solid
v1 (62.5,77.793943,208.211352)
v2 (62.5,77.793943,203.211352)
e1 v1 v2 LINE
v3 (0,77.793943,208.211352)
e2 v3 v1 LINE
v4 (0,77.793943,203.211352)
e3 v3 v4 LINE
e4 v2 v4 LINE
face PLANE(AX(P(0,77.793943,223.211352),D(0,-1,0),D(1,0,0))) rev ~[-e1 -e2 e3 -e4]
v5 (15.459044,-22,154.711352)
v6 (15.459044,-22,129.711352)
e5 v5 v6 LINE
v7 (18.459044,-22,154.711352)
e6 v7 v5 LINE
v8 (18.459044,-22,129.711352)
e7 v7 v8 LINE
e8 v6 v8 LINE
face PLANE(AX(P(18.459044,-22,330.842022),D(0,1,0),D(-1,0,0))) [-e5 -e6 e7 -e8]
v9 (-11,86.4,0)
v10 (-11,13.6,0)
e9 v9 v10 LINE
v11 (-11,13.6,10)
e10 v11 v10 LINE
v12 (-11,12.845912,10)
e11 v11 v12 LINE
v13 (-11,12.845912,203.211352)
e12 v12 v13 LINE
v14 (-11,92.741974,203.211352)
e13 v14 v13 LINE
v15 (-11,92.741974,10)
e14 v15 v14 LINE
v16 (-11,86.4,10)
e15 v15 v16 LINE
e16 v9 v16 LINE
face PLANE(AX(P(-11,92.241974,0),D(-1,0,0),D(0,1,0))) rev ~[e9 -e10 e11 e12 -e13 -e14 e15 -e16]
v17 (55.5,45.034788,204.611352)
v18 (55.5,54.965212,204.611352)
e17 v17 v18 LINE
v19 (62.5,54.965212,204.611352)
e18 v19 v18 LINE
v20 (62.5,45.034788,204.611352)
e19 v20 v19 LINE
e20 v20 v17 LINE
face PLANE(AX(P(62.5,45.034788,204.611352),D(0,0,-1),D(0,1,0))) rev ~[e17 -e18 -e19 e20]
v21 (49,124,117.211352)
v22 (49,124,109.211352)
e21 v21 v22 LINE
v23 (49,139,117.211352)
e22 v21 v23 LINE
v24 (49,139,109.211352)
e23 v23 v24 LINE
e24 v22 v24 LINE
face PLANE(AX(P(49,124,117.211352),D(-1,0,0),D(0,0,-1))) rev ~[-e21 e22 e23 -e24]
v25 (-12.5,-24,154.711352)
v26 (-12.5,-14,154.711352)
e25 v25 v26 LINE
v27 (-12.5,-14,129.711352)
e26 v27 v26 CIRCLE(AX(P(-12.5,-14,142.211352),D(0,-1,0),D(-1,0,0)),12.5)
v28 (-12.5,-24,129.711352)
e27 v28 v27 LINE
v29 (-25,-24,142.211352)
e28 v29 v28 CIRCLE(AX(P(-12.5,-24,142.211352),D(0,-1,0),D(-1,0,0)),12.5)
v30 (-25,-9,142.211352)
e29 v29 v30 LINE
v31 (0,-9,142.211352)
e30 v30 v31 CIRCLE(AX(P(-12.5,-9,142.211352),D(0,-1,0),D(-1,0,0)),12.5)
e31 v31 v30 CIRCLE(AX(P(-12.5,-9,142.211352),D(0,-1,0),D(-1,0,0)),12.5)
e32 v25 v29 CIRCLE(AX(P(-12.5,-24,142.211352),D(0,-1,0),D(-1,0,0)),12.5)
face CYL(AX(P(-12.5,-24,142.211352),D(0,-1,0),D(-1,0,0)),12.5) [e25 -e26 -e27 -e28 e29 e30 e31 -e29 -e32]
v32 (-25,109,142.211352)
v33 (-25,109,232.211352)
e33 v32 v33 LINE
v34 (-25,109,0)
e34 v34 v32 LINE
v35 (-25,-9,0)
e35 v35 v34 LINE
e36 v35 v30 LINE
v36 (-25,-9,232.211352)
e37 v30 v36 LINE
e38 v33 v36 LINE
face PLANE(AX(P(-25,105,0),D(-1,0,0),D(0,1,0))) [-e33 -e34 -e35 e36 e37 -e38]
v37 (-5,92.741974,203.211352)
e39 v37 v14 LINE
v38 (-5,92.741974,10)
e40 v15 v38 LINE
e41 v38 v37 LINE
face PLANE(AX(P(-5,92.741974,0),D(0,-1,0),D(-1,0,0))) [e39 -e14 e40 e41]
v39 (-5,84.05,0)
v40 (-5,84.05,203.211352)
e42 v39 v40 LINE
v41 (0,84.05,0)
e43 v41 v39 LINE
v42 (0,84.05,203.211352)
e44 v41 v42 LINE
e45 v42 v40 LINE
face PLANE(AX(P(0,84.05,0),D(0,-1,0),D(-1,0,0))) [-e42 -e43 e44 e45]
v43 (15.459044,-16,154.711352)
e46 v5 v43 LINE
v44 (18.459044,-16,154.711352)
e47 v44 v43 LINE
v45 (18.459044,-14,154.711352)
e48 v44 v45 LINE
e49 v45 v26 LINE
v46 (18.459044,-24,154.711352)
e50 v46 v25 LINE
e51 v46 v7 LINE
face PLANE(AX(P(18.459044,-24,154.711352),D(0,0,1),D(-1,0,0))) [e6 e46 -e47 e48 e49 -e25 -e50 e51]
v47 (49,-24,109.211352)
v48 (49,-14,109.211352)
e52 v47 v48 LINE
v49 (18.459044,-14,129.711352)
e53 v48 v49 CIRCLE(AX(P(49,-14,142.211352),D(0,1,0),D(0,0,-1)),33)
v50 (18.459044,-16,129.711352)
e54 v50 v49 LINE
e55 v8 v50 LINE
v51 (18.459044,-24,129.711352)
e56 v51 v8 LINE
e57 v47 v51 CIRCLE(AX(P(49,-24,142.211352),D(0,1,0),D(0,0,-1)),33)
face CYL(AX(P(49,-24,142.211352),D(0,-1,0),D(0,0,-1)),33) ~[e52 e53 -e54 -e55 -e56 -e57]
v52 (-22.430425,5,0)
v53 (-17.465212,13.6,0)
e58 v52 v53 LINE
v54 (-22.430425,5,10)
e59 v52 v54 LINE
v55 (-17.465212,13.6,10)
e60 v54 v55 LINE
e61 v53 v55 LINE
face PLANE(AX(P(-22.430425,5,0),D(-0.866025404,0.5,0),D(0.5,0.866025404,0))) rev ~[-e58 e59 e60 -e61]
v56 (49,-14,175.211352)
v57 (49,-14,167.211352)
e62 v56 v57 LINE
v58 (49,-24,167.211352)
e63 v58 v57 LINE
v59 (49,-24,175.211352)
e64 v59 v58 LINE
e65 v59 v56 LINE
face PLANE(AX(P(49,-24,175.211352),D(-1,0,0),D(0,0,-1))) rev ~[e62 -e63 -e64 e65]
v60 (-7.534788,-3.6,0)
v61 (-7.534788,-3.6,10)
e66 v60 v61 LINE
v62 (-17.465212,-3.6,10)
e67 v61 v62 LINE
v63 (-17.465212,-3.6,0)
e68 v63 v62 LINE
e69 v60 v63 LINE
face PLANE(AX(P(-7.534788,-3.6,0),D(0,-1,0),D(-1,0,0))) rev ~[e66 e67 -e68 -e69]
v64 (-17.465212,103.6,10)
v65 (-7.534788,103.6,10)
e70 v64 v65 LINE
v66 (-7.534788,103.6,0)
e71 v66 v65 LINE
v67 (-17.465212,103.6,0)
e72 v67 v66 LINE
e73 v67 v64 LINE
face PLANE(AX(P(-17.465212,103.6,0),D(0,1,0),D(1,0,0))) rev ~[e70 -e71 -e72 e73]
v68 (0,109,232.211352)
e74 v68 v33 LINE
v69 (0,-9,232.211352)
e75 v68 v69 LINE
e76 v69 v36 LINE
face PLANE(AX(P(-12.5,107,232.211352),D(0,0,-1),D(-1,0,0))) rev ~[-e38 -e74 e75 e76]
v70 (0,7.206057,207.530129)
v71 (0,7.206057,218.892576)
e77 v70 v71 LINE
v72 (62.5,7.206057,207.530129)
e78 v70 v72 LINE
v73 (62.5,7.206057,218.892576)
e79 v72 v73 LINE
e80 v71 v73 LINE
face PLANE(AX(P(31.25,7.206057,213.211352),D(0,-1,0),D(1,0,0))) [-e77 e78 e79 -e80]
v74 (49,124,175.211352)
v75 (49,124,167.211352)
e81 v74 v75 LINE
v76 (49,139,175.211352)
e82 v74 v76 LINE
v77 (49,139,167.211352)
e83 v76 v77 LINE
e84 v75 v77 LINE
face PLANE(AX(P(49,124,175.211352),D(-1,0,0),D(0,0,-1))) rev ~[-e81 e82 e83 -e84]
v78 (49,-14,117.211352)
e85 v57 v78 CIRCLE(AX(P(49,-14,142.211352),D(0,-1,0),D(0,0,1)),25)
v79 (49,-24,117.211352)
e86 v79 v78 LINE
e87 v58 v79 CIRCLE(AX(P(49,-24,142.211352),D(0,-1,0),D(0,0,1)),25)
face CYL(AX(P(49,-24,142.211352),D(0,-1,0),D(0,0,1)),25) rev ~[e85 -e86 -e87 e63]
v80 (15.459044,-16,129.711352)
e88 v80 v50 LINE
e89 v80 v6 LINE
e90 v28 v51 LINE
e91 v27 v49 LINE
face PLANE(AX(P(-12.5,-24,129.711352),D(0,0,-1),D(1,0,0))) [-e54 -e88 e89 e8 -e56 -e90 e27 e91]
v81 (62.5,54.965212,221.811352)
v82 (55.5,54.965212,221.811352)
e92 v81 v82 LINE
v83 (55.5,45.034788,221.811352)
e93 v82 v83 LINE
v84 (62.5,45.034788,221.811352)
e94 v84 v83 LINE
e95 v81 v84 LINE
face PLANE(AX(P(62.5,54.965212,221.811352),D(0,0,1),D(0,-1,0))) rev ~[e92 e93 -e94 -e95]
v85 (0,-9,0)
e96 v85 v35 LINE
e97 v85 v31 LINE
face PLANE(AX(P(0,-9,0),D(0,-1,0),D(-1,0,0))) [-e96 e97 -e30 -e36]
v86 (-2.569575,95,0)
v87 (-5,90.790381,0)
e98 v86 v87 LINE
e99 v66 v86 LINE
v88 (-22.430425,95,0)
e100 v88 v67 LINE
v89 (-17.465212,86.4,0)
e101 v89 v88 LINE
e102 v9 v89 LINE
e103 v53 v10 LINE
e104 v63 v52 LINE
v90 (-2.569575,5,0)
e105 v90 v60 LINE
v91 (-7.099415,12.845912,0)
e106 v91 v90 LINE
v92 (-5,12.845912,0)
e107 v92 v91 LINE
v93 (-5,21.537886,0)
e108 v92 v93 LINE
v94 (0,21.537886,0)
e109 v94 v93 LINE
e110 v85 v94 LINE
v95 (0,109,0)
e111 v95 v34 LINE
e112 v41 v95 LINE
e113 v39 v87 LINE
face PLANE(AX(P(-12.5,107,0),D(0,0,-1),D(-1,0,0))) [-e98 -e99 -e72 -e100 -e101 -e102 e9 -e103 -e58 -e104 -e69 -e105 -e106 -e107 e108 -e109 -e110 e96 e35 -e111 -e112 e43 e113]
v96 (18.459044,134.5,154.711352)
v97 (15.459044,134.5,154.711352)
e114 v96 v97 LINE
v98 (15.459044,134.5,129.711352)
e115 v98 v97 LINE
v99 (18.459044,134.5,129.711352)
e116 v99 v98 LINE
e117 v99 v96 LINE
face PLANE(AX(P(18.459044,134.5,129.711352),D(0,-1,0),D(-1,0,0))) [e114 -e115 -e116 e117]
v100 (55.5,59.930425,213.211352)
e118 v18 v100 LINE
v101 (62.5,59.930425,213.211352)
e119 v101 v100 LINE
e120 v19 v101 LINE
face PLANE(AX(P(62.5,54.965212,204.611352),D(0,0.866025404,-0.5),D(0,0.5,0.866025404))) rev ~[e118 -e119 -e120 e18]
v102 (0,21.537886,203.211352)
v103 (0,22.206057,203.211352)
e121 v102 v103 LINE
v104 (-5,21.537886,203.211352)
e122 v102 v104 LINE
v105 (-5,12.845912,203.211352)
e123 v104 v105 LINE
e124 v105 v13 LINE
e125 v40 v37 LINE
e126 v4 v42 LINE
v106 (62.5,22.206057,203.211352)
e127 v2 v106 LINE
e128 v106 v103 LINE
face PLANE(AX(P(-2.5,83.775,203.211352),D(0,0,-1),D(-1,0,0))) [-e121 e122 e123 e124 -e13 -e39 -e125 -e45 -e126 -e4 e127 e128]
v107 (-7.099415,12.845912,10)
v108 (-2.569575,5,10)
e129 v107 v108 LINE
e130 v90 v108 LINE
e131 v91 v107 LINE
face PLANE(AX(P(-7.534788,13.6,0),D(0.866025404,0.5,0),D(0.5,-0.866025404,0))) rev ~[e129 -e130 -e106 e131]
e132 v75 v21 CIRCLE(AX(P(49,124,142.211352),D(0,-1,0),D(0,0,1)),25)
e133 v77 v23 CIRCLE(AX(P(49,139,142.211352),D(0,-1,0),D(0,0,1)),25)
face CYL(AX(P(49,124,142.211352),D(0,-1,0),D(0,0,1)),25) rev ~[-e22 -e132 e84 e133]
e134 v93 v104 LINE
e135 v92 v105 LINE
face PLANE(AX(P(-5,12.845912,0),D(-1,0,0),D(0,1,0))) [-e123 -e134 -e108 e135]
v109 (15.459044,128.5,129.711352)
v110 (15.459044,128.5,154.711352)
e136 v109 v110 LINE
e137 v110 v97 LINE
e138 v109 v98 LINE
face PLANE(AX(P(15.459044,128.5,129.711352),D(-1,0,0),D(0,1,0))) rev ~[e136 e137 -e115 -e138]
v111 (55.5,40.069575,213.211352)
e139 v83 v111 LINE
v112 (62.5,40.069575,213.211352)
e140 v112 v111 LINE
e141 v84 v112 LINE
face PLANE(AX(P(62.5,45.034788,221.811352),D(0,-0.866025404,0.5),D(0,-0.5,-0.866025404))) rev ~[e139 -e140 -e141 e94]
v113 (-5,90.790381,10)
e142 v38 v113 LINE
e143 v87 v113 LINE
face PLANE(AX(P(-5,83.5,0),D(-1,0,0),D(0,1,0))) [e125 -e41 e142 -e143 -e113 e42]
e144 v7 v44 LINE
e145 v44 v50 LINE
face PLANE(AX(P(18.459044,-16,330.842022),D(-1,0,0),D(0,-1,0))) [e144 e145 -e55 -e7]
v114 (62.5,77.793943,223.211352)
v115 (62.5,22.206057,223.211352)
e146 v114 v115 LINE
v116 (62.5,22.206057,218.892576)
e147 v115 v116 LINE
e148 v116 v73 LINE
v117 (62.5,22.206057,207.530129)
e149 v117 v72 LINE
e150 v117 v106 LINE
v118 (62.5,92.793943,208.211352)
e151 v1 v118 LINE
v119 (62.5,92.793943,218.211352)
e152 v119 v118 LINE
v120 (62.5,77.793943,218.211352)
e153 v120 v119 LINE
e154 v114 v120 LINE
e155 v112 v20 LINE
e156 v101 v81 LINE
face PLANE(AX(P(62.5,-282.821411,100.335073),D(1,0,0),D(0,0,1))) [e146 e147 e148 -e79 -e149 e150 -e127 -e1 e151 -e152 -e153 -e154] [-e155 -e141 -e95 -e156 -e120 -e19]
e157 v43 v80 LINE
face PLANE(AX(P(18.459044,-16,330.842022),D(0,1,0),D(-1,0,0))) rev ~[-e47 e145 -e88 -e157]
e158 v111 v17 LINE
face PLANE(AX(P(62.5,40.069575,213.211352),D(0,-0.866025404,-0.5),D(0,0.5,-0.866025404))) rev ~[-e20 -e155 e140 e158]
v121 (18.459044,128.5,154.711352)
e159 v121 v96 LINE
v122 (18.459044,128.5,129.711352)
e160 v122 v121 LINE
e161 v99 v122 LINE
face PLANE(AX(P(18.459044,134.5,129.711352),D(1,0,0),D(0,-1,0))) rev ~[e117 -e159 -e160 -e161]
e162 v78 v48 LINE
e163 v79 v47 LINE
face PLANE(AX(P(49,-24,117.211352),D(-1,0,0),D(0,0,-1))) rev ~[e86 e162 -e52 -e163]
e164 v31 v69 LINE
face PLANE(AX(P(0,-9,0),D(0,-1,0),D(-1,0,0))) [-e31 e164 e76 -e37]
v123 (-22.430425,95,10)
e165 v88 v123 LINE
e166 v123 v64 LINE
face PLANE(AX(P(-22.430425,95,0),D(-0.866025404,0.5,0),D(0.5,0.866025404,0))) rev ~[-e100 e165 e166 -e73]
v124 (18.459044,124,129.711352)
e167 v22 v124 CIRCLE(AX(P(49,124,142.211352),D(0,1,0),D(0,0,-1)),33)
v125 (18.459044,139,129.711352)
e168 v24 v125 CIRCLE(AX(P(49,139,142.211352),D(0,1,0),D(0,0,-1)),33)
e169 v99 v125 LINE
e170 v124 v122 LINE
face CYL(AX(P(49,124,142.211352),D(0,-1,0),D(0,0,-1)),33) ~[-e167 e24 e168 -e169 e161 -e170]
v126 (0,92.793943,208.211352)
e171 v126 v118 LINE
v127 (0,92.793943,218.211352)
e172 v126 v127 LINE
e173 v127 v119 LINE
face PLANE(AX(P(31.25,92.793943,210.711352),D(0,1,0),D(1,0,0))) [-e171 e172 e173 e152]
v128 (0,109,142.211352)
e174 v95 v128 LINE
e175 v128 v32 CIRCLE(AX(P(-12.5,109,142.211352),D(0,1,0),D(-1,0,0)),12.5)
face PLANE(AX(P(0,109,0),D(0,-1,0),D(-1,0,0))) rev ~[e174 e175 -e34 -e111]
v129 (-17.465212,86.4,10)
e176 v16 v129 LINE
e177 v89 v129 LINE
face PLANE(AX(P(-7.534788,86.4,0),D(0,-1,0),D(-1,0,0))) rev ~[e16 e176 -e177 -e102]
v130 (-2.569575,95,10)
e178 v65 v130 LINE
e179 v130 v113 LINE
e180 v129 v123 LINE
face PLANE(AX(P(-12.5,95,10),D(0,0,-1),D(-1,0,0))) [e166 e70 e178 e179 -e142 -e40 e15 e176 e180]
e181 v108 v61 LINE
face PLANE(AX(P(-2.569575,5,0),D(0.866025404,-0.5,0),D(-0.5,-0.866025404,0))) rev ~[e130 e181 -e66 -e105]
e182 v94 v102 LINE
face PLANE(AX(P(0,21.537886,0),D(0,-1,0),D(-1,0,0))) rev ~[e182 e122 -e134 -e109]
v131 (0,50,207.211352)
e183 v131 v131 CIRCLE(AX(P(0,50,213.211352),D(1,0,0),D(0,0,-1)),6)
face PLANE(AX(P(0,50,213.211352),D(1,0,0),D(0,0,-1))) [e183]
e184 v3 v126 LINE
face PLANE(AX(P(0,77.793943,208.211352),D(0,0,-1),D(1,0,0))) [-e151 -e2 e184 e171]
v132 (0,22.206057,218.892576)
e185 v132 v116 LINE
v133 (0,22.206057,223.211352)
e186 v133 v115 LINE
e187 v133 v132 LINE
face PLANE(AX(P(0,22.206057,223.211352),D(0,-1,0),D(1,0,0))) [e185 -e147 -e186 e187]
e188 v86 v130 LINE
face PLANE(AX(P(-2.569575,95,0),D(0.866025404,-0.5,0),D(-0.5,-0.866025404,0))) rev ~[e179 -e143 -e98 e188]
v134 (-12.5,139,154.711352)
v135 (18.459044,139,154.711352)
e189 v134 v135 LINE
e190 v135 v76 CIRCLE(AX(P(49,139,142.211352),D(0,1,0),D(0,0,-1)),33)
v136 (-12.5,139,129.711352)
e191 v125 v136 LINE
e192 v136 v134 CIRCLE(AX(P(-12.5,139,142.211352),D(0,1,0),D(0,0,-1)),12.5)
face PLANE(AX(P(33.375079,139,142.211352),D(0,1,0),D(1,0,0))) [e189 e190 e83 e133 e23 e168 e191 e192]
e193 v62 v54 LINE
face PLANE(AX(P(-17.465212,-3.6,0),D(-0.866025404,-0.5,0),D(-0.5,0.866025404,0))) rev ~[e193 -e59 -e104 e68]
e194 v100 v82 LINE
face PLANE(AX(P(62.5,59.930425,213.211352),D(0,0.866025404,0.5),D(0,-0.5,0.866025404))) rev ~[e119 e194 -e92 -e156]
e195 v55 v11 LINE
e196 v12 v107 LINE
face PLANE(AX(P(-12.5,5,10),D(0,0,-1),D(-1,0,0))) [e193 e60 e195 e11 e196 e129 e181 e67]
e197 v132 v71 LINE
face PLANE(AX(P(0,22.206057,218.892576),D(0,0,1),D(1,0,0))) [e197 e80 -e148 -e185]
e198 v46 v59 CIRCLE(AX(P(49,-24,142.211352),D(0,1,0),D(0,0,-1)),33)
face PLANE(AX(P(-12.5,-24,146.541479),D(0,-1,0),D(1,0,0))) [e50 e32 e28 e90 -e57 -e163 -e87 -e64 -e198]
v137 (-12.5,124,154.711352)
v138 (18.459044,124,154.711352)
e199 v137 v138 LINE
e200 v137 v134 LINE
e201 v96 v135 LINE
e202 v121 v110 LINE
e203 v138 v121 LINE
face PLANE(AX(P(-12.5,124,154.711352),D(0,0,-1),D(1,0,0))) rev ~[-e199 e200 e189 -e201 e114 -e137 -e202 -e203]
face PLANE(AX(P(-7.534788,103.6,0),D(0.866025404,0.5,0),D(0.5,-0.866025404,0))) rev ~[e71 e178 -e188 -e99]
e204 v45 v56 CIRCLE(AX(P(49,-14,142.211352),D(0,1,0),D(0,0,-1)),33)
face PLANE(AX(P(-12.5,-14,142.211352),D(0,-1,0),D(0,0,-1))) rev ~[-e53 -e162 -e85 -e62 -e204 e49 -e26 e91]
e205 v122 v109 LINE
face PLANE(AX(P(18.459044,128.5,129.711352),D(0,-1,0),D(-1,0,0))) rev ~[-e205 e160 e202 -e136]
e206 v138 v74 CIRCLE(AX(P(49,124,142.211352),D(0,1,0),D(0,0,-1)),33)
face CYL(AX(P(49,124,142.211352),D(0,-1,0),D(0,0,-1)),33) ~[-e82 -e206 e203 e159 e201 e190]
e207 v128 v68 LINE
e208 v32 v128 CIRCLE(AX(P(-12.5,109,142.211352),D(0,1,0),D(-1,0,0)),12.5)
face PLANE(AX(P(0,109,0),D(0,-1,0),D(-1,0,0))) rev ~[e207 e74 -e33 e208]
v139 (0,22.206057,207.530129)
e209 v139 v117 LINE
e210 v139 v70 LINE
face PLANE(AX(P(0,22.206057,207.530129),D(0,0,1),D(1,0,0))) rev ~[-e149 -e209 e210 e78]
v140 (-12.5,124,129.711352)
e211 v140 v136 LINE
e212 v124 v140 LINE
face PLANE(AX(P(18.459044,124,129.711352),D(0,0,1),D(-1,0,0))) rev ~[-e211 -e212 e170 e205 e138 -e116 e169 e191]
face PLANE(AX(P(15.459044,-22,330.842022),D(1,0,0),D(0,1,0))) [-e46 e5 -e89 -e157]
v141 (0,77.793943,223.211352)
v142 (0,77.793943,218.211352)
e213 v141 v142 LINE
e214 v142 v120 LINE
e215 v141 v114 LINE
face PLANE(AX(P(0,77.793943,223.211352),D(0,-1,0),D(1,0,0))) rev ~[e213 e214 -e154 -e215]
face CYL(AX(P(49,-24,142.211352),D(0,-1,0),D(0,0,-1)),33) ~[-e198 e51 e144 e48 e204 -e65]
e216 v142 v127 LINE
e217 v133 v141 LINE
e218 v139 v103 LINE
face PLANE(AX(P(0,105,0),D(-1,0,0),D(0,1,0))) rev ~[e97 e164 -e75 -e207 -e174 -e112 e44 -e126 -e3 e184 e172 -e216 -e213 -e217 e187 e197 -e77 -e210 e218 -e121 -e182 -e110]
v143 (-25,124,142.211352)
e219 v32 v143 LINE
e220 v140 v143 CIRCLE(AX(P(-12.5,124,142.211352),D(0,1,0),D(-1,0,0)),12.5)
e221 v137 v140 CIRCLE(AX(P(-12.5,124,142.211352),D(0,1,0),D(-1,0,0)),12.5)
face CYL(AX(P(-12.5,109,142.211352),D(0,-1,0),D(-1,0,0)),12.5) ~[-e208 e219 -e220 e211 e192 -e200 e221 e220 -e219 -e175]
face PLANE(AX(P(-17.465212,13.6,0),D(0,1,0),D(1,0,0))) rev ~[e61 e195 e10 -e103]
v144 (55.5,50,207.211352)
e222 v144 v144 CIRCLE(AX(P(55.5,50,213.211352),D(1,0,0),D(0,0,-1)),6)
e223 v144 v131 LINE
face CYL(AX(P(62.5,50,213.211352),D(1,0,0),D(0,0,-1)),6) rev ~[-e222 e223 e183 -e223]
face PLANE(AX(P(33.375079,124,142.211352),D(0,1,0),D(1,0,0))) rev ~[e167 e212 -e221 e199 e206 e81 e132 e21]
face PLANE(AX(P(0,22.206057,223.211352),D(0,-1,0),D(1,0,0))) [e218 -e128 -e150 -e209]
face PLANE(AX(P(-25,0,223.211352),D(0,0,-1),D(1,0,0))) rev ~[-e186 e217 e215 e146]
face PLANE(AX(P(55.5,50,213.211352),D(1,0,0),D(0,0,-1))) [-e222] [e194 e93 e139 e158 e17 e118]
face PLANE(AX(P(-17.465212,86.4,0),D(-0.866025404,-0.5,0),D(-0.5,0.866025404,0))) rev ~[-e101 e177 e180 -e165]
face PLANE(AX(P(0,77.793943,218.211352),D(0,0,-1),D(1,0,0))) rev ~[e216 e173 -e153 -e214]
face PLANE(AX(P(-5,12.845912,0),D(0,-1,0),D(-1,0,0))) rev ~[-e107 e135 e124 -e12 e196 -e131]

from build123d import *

# Parameters (mm, degrees)
BOSS_EXTRUDE1_DEPTH      = 320
SKETCH2_W                = 25
SKETCH2_H                = 100
BOSS_EXTRUDE2_DEPTH      = 50
CUT_EXTRUDE1_DEPTH       = 337.19190948
CUT_EXTRUDE1_DEPTH_BACK  = 337.19190948
SKETCH3_R                = 5
SKETCH4_W                = 150
SKETCH4_H                = 19.211352241
BOSS_EXTRUDE3_DEPTH      = 100
BOSS_EXTRUDE4_DEPTH      = 100
SKETCH6_W                = 42.1
SKETCH6_H                = 42.1
CUT_EXTRUDE2_DEPTH       = 10
SKETCH7_R                = 11
CUT_EXTRUDE3_DEPTH       = 2
CUT_EXTRUDE4_DEPTH       = 391.24267
CUT_EXTRUDE4_DEPTH_BACK  = 391.24267
SKETCH8_R                = 11
SKETCH10_R               = 25
SKETCH10_R_2             = 11
BOSS_EXTRUDE5_DEPTH      = 18
CUT_EXTRUDE6_DEPTH       = 381.347658714
CUT_EXTRUDE6_DEPTH_BACK  = 381.347658714
BOSS_EXTRUDE6_REACH      = 243.332
SKETCH12_W               = 150
SKETCH12_H               = 15
SKETCH13_W               = 165
SKETCH13_H               = 5
BOSS_EXTRUDE7_DEPTH      = 100
CUT_EXTRUDE7_DEPTH       = 282.821411126
CUT_EXTRUDE7_DEPTH_BACK  = 282.821411126
SKETCH16_W               = 62.5
SKETCH16_H               = 22.206056974
CUT_EXTRUDE9_DEPTH       = 298.574684732
SKETCH17_W               = 62.5
SKETCH17_H               = 5
BOSS_EXTRUDE8_DEPTH      = 15
SKETCH18_W               = 62.5
SKETCH18_H               = 11.362446971
BOSS_EXTRUDE9_DEPTH      = 15
SKETCH19_W               = 25
SKETCH19_H               = 100
BOSS_EXTRUDE11_DEPTH     = 9
SKETCH20_R               = 5
CUT_EXTRUDE10_DEPTH      = 62.5
SKETCH21_R               = 6
CUT_EXTRUDE11_DEPTH      = 62.5
CUT_EXTRUDE12_DEPTH      = 7
CUT_EXTRUDE13_DEPTH      = 261.438787644
CUT_EXTRUDE13_DEPTH_BACK = 261.438787644
SKETCH23_W               = 50
SKETCH23_H               = 100
SKETCH24_W               = 0.5
SKETCH24_H               = 6.741974104
CUT_EXTRUDE16_DEPTH      = 203.211352241
SKETCH26_W               = 0.5
SKETCH26_H               = 6.741974105
CUT_EXTRUDE17_DEPTH      = 203.211352241
SKETCH27_W               = 5
SKETCH27_H               = 0.5
SKETCH27_W_2             = 6
CUT_EXTRUDE18_DEPTH      = 203.211352241
SKETCH29_W               = 25
SKETCH29_H               = 5
BOSS_EXTRUDE13_DEPTH     = 232.211352241
SKETCH31_W               = 5
SKETCH31_H               = 2.5
BOSS_EXTRUDE14_DEPTH     = 203.211352241
SKETCH32_W               = 5
SKETCH32_H               = 0.55
CUT_EXTRUDE20_DEPTH      = 203.211352241
CUT_EXTRUDE21_DEPTH      = 10
SKETCH33_W               = 25
SKETCH33_H               = 4
BOSS_EXTRUDE15_DEPTH     = 232.211352241
SKETCH35_R               = 12.5
BOSS_EXTRUDE16_DEPTH     = 15
SKETCH36_R               = 12.5
BOSS_EXTRUDE17_DEPTH     = 15
SKETCH37_W               = 3
SKETCH37_H               = 3
CUT_EXTRUDE22_DEPTH      = 201.130669564
BOSS_EXTRUDE19_START     = 15
BOSS_EXTRUDE19_DEPTH     = 15
SKETCH39_R               = 12.5
BOSS_EXTRUDE20_DEPTH     = 10
CUT_EXTRUDE23_DEPTH      = 201.130669564
CUT_EXTRUDE23_DEPTH_BACK = 201.130669564
SKETCH40_W               = 3
SKETCH40_H               = 3


with BuildPart() as part:
    # Sketch1 → Boss-Extrude1 (new body)
    with BuildSketch(Plane.XY):
        Polygon((0, 100), (0, 85.5), (-5.5, 85.5), (-5.5, 92.241974104), (-11, 92.241974104), (-11, 13.345911947), (-5.5, 13.345911947), (-5.5, 20.087886052), (0, 20.087886052), (0, 5.587886052), (0, 0), (-25, 0), (-25, 100), align=None)
    extrude(amount=BOSS_EXTRUDE1_DEPTH)

    # Sketch2 → Boss-Extrude2 (add)
    with BuildSketch(Plane(origin=(0, 0, 0), x_dir=(-1, 0, 0), z_dir=(0, 0, -1))):
        with Locations((12.5, 50)):
            Rectangle(SKETCH2_W, SKETCH2_H)
    extrude(amount=BOSS_EXTRUDE2_DEPTH)

    # Sketch3 → Cut-Extrude1 (cut, two sides: drawn at the far end of the back side and taken through both)
    with BuildSketch(Plane(origin=(0, 0, 0), x_dir=(0, 0, -1), z_dir=(1, 0, 0)).offset(-CUT_EXTRUDE1_DEPTH_BACK)):
        with Locations(Location((25, 52.793943026, 0), (0, 0, 90))):
            Circle(SKETCH3_R)
    extrude(amount=CUT_EXTRUDE1_DEPTH + CUT_EXTRUDE1_DEPTH_BACK, mode=Mode.SUBTRACT)

    # Sketch4 → Boss-Extrude3 (add)
    with BuildSketch(Plane(origin=(0, 100, 0), x_dir=(1, 0, 0), z_dir=(0, 1, 0))):
        with Locations((50, -329.60567612)):
            Rectangle(SKETCH4_W, SKETCH4_H)
    extrude(amount=-BOSS_EXTRUDE3_DEPTH)

    # Sketch5 → Boss-Extrude4 (add)
    with BuildSketch(Plane(origin=(0, 0, 0), x_dir=(1, 0, 0), z_dir=(0, 1, 0))):
        Polygon((125, -209.211352241), (125, -339.211352241), (127.245354701, -339.211352241), (140, -339.211352241), (140, -209.211352241), align=None)
    extrude(amount=BOSS_EXTRUDE4_DEPTH)

    # Sketch6 → Cut-Extrude2 (cut)
    with BuildSketch(Plane.ZY.offset(25)):
        with Locations((-25, 52.793943026)):
            Rectangle(SKETCH6_W, SKETCH6_H)
    extrude(amount=-CUT_EXTRUDE2_DEPTH, mode=Mode.SUBTRACT)

    # Sketch7 → Cut-Extrude3 (cut)
    with BuildSketch(Plane.ZY.offset(15)):
        with Locations(Location((-25, 52.793943026, 0), (0, 0, 270))):
            Circle(SKETCH7_R)
    extrude(amount=-CUT_EXTRUDE3_DEPTH, mode=Mode.SUBTRACT)

    # Sketch8 → Cut-Extrude4 (cut, two sides: drawn at the far end of the back side and taken through both)
    with BuildSketch(Plane.ZY.offset(25).offset(-CUT_EXTRUDE4_DEPTH_BACK)):
        with Locations(Location((-25, 52.793943026, 0), (0, 0, 270))):
            Circle(SKETCH8_R)
    extrude(amount=CUT_EXTRUDE4_DEPTH + CUT_EXTRUDE4_DEPTH_BACK, mode=Mode.SUBTRACT)

    # Sketch10 → Boss-Extrude5 (add)
    with BuildSketch(Plane(origin=(0, 0, 0), x_dir=(0, 0, -1), z_dir=(1, 0, 0))):
        with Locations((25, 52.793943026)):
            Circle(SKETCH10_R)
        with Locations(Location((25, 52.793943026, 0), (0, 0, 270))):
            Circle(SKETCH10_R_2, mode=Mode.SUBTRACT)
    extrude(amount=BOSS_EXTRUDE5_DEPTH)

    # Sketch11 → Cut-Extrude6 (cut, two sides: drawn at the far end of the back side and taken through both)
    with BuildSketch(Plane(origin=(0, 0, 0), x_dir=(1, 0, 0), z_dir=(0, 1, 0)).offset(-CUT_EXTRUDE6_DEPTH_BACK)):
        Polygon((-25, -339.211352241), (-25, -218.211352241), (83.728432641, -218.211352241), (83.728432641, -190.050980202), (162.673418017, -190.050980202), (162.673418017, -339.211352241), align=None)
    extrude(amount=CUT_EXTRUDE6_DEPTH + CUT_EXTRUDE6_DEPTH_BACK, mode=Mode.SUBTRACT)

    # Boss-Extrude6: up to this face of the body (flat: up to its plane)
    boss_extrude6_end = Plane(part.part.faces().sort_by_distance((-12.5, 100, 84.10567612))[0])
    # Sketch12 → Boss-Extrude6 (add, up to the picked face)
    with BuildSketch(Plane(origin=(0, 0, 0), x_dir=(1, 0, 0), z_dir=(0, 1, 0)), mode=Mode.PRIVATE) as boss_extrude6_sk1:
        with Locations((50, -210.711352241)):
            Rectangle(SKETCH12_W, SKETCH12_H)
    boss_extrude6_tool1 = split(extrude(boss_extrude6_sk1.sketch, amount=BOSS_EXTRUDE6_REACH, mode=Mode.PRIVATE), bisect_by=boss_extrude6_end, keep=Keep.BOTH, mode=Mode.PRIVATE)
    # Sketch12 → Boss-Extrude6 (add, up to the picked face)
    with BuildSketch(Plane(origin=(0, 0, 0), x_dir=(1, 0, 0), z_dir=(0, 1, 0)), mode=Mode.PRIVATE) as boss_extrude6_sk2:
        Polygon((140, -118.211352241), (125, -118.211352241), (125, -203.211352241), (125, -218.211352241), (140, -218.211352241), align=None)
    boss_extrude6_tool2 = split(extrude(boss_extrude6_sk2.sketch, amount=BOSS_EXTRUDE6_REACH, mode=Mode.PRIVATE), bisect_by=boss_extrude6_end, keep=Keep.BOTH, mode=Mode.PRIVATE)
    add(boss_extrude6_tool1.solids().sort_by(Axis((50, 0, 210.711352), (0, 1, 0)))[0])
    add(boss_extrude6_tool2.solids().sort_by(Axis((132.5, 0, 168.211352), (0, 1, 0)))[0])

    # Sketch13 → Boss-Extrude7 (add)
    with BuildSketch(Plane(origin=(0, 0, 0), x_dir=(1, 0, 0), z_dir=(0, 1, 0))):
        with Locations((57.5, -220.711352241)):
            Rectangle(SKETCH13_W, SKETCH13_H)
    extrude(amount=BOSS_EXTRUDE7_DEPTH)

    # Sketch14 → Cut-Extrude7 (cut, two sides: drawn at the far end of the back side and taken through both)
    with BuildSketch(Plane(origin=(0, 0, 0), x_dir=(1, 0, 0), z_dir=(0, 1, 0)).offset(-CUT_EXTRUDE7_DEPTH_BACK)):
        Polygon((62.5, -203.211352241), (62.5, -244.24795379), (164.214361429, -244.24795379), (164.214361429, -100.335073146), (62.5, -100.335073146), align=None)
    extrude(amount=CUT_EXTRUDE7_DEPTH + CUT_EXTRUDE7_DEPTH_BACK, mode=Mode.SUBTRACT)

    # Sketch16 → Cut-Extrude9 (cut, through all)
    with BuildSketch(Plane.XY.offset(223.211352241)):
        with Locations((31.25, 88.896971513)):
            Rectangle(SKETCH16_W, SKETCH16_H)
        with Locations((31.25, 11.103028487)):
            Rectangle(SKETCH16_W, SKETCH16_H)
    extrude(amount=-CUT_EXTRUDE9_DEPTH, mode=Mode.SUBTRACT)

    # Sketch17 → Boss-Extrude8 (add)
    with BuildSketch(Plane(origin=(0, 77.793943026, 0), x_dir=(1, 0, 0), z_dir=(0, 1, 0))):
        with Locations((31.25, -210.711352241)):
            Rectangle(SKETCH17_W, SKETCH17_H)
        with Locations((31.25, -215.711352241)):
            Rectangle(SKETCH17_W, SKETCH17_H)
    extrude(amount=BOSS_EXTRUDE8_DEPTH)

    # Sketch18 → Boss-Extrude9 (add)
    with BuildSketch(Plane.XZ.offset(-22.206056974)):
        with Locations((31.25, 213.211352241)):
            Rectangle(SKETCH18_W, SKETCH18_H)
    extrude(amount=BOSS_EXTRUDE9_DEPTH)

    # Sketch19 → Boss-Extrude11 (add)
    with BuildSketch(Plane.XY.offset(223.211352241)):
        with Locations((-12.5, 50)):
            Rectangle(SKETCH19_W, SKETCH19_H)
    extrude(amount=BOSS_EXTRUDE11_DEPTH)

    # Sketch20 → Cut-Extrude10 (cut)
    with BuildSketch(Plane(origin=(62.5, 0, 0), x_dir=(0, 0, -1), z_dir=(1, 0, 0))):
        with Locations((-213.211352241, 50)):
            Circle(SKETCH20_R)
    extrude(amount=-CUT_EXTRUDE10_DEPTH, mode=Mode.SUBTRACT)

    # Sketch21 → Cut-Extrude11 (cut)
    with BuildSketch(Plane(origin=(62.5, 0, 0), x_dir=(0, 0, -1), z_dir=(1, 0, 0))):
        with Locations((-213.211352241, 50)):
            Circle(SKETCH21_R)
    extrude(amount=-CUT_EXTRUDE11_DEPTH, mode=Mode.SUBTRACT)

    # Sketch22 → Cut-Extrude12 (cut)
    with BuildSketch(Plane(origin=(62.5, 0, 0), x_dir=(0, 0, -1), z_dir=(1, 0, 0))):
        Polygon((-204.611352241, 45.034787685), (-204.611352241, 54.965212315), (-213.211352241, 59.93042463), (-221.811352241, 54.965212315), (-221.811352241, 45.034787685), (-213.211352241, 40.06957537), align=None)
    extrude(amount=-CUT_EXTRUDE12_DEPTH, mode=Mode.SUBTRACT)

    # Sketch23 → Cut-Extrude13 (cut, two sides: drawn at the far end of the back side and taken through both)
    with BuildSketch(Plane(origin=(0, 0, 0), x_dir=(0, 0, -1), z_dir=(1, 0, 0)).offset(-CUT_EXTRUDE13_DEPTH_BACK)):
        with Locations((25, 50)):
            Rectangle(SKETCH23_W, SKETCH23_H)
    extrude(amount=CUT_EXTRUDE13_DEPTH + CUT_EXTRUDE13_DEPTH_BACK, mode=Mode.SUBTRACT)

    # Sketch24 → Cut-Extrude16 (cut)
    with BuildSketch(Plane(origin=(0, 0, 0), x_dir=(-1, 0, 0), z_dir=(0, 0, -1))):
        with Locations((5.25, 88.870987052)):
            Rectangle(SKETCH24_W, SKETCH24_H)
    extrude(amount=-CUT_EXTRUDE16_DEPTH, mode=Mode.SUBTRACT)

    # Sketch26 → Cut-Extrude17 (cut)
    with BuildSketch(Plane(origin=(0, 0, 0), x_dir=(-1, 0, 0), z_dir=(0, 0, -1))):
        with Locations((5.25, 16.716899)):
            Rectangle(SKETCH26_W, SKETCH26_H)
    extrude(amount=-CUT_EXTRUDE17_DEPTH, mode=Mode.SUBTRACT)

    # Sketch27 → Cut-Extrude18 (cut)
    with BuildSketch(Plane(origin=(0, 0, 0), x_dir=(-1, 0, 0), z_dir=(0, 0, -1))):
        with Locations((2.5, 85.75)):
            Rectangle(SKETCH27_W, SKETCH27_H)
        with Locations((8, 92.491974104)):
            Rectangle(SKETCH27_W_2, SKETCH27_H)
        with Locations((8, 13.095911947)):
            Rectangle(SKETCH27_W_2, SKETCH27_H)
        with Locations((2.5, 19.837886052)):
            Rectangle(SKETCH27_W, SKETCH27_H)
    extrude(amount=-CUT_EXTRUDE18_DEPTH, mode=Mode.SUBTRACT)

    # Sketch29 → Boss-Extrude13 (add)
    with BuildSketch(Plane(origin=(0, 0, 0), x_dir=(-1, 0, 0), z_dir=(0, 0, -1))):
        with Locations((12.5, 102.5)):
            Rectangle(SKETCH29_W, SKETCH29_H)
        with Locations((12.5, -2.5)):
            Rectangle(SKETCH29_W, SKETCH29_H)
    extrude(amount=-BOSS_EXTRUDE13_DEPTH)

    # Sketch31 → Boss-Extrude14 (add)
    with BuildSketch(Plane(origin=(0, 0, 0), x_dir=(-1, 0, 0), z_dir=(0, 0, -1))):
        with Locations((2.5, 84.75)):
            Rectangle(SKETCH31_W, SKETCH31_H)
        with Locations((2.5, 20.837886052)):
            Rectangle(SKETCH31_W, SKETCH31_H)
    extrude(amount=-BOSS_EXTRUDE14_DEPTH)

    # Sketch32 → Cut-Extrude20 (cut)
    with BuildSketch(Plane(origin=(0, 0, 0), x_dir=(-1, 0, 0), z_dir=(0, 0, -1))):
        with Locations((2.5, 21.812886052)):
            Rectangle(SKETCH32_W, SKETCH32_H)
        with Locations((2.5, 83.775)):
            Rectangle(SKETCH32_W, SKETCH32_H)
    extrude(amount=-CUT_EXTRUDE20_DEPTH, mode=Mode.SUBTRACT)

    # Sketch30 → Cut-Extrude21 (cut)
    with BuildSketch(Plane(origin=(0, 0, 0), x_dir=(-1, 0, 0), z_dir=(0, 0, -1))):
        Polygon((17.465212315, 103.6), (7.534787685, 103.6), (2.56957537, 95), (7.534787685, 86.4), (17.465212315, 86.4), (22.43042463, 95), align=None)
        Polygon((17.465212315, 13.6), (7.534787685, 13.6), (2.56957537, 5), (7.534787685, -3.6), (17.465212315, -3.6), (22.43042463, 5), align=None)
    extrude(amount=-CUT_EXTRUDE21_DEPTH, mode=Mode.SUBTRACT)

    # Sketch33 → Boss-Extrude15 (add)
    with BuildSketch(Plane(origin=(0, 0, 0), x_dir=(-1, 0, 0), z_dir=(0, 0, -1))):
        with Locations((12.5, 107)):
            Rectangle(SKETCH33_W, SKETCH33_H)
        with Locations((12.5, -7)):
            Rectangle(SKETCH33_W, SKETCH33_H)
    extrude(amount=-BOSS_EXTRUDE15_DEPTH)

    # Sketch35 → Boss-Extrude16 (add)
    with BuildSketch(Plane(origin=(0, 109, 0), x_dir=(1, 0, 0), z_dir=(0, 1, 0))):
        with Locations(Location((-12.5, -142.211352241, 0), (0, 0, 180))):
            Circle(SKETCH35_R)
    extrude(amount=BOSS_EXTRUDE16_DEPTH)

    # Sketch36 → Boss-Extrude17 (add)
    with BuildSketch(Plane(origin=(0, 124, 0), x_dir=(1, 0, 0), z_dir=(0, 1, 0))):
        with BuildLine():
            Line((49, -117.211352241), (49, -109.211352241))
            ThreePointArc((49, -109.211352241), (16, -142.211352241), (49, -175.211352241))
            Line((49, -175.211352241), (49, -167.211352241))
            ThreePointArc((49, -167.211352241), (24, -142.211352241), (49, -117.211352241))
        make_face()
        with BuildLine():
            ThreePointArc((18.459043892, -154.711352241), (16, -142.211352241), (18.459043892, -129.711352241))
            Line((18.459043892, -129.711352241), (-12.5, -129.711352241))
            ThreePointArc((-12.5, -129.711352241), (-3.661165235, -133.372517476), (0, -142.211352241))
            ThreePointArc((0, -142.211352241), (-3.661165235, -151.050187006), (-12.5, -154.711352241))
            Line((-12.5, -154.711352241), (18.459043892, -154.711352241))
        make_face()
        with Locations(Location((-12.5, -142.211352241, 0), (0, 0, 90))):
            Circle(SKETCH36_R)
    extrude(amount=BOSS_EXTRUDE17_DEPTH)

    # Sketch37 → Cut-Extrude22 (cut, through all)
    with BuildSketch(Plane(origin=(0, 0, 129.711352241), x_dir=(-1, 0, 0), z_dir=(0, 0, -1))):
        with Locations((-16.959043892, 133)):
            Rectangle(SKETCH37_W, SKETCH37_H)
        with Locations((-16.959043892, 130)):
            Rectangle(SKETCH37_W, SKETCH37_H)
    extrude(amount=-CUT_EXTRUDE22_DEPTH, mode=Mode.SUBTRACT)

    # Sketch38 → Boss-Extrude19 (add)
    with BuildSketch(Plane.XZ.offset(9).offset(BOSS_EXTRUDE19_START)):
        with BuildLine():
            ThreePointArc((0, 142.211352241), (-12.5, 154.711352241), (-25, 142.211352241))
            Line((-25, 142.211352241), (0, 142.211352241))
        make_face()
        with BuildLine():
            Line((0, 142.211352241), (-25, 142.211352241))
            ThreePointArc((-25, 142.211352241), (-12.5, 129.711352241), (0, 142.211352241))
        make_face()
    extrude(amount=-BOSS_EXTRUDE19_DEPTH)

    # Sketch39 → Boss-Extrude20 (add)
    with BuildSketch(Plane.XZ.offset(24)):
        with Locations(Location((-12.5, 142.211352241, 0), (0, 0, 270))):
            Circle(SKETCH39_R)
        with BuildLine():
            ThreePointArc((18.459043892, 129.711352241), (16, 142.211352241), (18.459043892, 154.711352241))
            Line((18.459043892, 154.711352241), (-12.5, 154.711352241))
            ThreePointArc((-12.5, 154.711352241), (-3.661165235, 151.050187006), (0, 142.211352241))
            ThreePointArc((0, 142.211352241), (-3.661165235, 133.372517476), (-12.5, 129.711352241))
            Line((-12.5, 129.711352241), (18.459043892, 129.711352241))
        make_face()
        with BuildLine():
            ThreePointArc((49, 167.211352241), (24, 142.211352241), (49, 117.211352241))
            Line((49, 117.211352241), (49, 109.211352241))
            ThreePointArc((49, 109.211352241), (16, 142.211352241), (49, 175.211352241))
            Line((49, 175.211352241), (49, 167.211352241))
        make_face()
    extrude(amount=-BOSS_EXTRUDE20_DEPTH)

    # Sketch40 → Cut-Extrude23 (cut, two sides: drawn at the far end of the back side and taken through both)
    with BuildSketch(Plane(origin=(0, 0, 129.711352241), x_dir=(-1, 0, 0), z_dir=(0, 0, -1)).offset(-CUT_EXTRUDE23_DEPTH_BACK)):
        with Locations((-16.959043892, -17.5)):
            Rectangle(SKETCH40_W, SKETCH40_H)
        with Locations((-16.959043892, -20.5)):
            Rectangle(SKETCH40_W, SKETCH40_H)
    extrude(amount=CUT_EXTRUDE23_DEPTH + CUT_EXTRUDE23_DEPTH_BACK, mode=Mode.SUBTRACT)


solid = part.part
